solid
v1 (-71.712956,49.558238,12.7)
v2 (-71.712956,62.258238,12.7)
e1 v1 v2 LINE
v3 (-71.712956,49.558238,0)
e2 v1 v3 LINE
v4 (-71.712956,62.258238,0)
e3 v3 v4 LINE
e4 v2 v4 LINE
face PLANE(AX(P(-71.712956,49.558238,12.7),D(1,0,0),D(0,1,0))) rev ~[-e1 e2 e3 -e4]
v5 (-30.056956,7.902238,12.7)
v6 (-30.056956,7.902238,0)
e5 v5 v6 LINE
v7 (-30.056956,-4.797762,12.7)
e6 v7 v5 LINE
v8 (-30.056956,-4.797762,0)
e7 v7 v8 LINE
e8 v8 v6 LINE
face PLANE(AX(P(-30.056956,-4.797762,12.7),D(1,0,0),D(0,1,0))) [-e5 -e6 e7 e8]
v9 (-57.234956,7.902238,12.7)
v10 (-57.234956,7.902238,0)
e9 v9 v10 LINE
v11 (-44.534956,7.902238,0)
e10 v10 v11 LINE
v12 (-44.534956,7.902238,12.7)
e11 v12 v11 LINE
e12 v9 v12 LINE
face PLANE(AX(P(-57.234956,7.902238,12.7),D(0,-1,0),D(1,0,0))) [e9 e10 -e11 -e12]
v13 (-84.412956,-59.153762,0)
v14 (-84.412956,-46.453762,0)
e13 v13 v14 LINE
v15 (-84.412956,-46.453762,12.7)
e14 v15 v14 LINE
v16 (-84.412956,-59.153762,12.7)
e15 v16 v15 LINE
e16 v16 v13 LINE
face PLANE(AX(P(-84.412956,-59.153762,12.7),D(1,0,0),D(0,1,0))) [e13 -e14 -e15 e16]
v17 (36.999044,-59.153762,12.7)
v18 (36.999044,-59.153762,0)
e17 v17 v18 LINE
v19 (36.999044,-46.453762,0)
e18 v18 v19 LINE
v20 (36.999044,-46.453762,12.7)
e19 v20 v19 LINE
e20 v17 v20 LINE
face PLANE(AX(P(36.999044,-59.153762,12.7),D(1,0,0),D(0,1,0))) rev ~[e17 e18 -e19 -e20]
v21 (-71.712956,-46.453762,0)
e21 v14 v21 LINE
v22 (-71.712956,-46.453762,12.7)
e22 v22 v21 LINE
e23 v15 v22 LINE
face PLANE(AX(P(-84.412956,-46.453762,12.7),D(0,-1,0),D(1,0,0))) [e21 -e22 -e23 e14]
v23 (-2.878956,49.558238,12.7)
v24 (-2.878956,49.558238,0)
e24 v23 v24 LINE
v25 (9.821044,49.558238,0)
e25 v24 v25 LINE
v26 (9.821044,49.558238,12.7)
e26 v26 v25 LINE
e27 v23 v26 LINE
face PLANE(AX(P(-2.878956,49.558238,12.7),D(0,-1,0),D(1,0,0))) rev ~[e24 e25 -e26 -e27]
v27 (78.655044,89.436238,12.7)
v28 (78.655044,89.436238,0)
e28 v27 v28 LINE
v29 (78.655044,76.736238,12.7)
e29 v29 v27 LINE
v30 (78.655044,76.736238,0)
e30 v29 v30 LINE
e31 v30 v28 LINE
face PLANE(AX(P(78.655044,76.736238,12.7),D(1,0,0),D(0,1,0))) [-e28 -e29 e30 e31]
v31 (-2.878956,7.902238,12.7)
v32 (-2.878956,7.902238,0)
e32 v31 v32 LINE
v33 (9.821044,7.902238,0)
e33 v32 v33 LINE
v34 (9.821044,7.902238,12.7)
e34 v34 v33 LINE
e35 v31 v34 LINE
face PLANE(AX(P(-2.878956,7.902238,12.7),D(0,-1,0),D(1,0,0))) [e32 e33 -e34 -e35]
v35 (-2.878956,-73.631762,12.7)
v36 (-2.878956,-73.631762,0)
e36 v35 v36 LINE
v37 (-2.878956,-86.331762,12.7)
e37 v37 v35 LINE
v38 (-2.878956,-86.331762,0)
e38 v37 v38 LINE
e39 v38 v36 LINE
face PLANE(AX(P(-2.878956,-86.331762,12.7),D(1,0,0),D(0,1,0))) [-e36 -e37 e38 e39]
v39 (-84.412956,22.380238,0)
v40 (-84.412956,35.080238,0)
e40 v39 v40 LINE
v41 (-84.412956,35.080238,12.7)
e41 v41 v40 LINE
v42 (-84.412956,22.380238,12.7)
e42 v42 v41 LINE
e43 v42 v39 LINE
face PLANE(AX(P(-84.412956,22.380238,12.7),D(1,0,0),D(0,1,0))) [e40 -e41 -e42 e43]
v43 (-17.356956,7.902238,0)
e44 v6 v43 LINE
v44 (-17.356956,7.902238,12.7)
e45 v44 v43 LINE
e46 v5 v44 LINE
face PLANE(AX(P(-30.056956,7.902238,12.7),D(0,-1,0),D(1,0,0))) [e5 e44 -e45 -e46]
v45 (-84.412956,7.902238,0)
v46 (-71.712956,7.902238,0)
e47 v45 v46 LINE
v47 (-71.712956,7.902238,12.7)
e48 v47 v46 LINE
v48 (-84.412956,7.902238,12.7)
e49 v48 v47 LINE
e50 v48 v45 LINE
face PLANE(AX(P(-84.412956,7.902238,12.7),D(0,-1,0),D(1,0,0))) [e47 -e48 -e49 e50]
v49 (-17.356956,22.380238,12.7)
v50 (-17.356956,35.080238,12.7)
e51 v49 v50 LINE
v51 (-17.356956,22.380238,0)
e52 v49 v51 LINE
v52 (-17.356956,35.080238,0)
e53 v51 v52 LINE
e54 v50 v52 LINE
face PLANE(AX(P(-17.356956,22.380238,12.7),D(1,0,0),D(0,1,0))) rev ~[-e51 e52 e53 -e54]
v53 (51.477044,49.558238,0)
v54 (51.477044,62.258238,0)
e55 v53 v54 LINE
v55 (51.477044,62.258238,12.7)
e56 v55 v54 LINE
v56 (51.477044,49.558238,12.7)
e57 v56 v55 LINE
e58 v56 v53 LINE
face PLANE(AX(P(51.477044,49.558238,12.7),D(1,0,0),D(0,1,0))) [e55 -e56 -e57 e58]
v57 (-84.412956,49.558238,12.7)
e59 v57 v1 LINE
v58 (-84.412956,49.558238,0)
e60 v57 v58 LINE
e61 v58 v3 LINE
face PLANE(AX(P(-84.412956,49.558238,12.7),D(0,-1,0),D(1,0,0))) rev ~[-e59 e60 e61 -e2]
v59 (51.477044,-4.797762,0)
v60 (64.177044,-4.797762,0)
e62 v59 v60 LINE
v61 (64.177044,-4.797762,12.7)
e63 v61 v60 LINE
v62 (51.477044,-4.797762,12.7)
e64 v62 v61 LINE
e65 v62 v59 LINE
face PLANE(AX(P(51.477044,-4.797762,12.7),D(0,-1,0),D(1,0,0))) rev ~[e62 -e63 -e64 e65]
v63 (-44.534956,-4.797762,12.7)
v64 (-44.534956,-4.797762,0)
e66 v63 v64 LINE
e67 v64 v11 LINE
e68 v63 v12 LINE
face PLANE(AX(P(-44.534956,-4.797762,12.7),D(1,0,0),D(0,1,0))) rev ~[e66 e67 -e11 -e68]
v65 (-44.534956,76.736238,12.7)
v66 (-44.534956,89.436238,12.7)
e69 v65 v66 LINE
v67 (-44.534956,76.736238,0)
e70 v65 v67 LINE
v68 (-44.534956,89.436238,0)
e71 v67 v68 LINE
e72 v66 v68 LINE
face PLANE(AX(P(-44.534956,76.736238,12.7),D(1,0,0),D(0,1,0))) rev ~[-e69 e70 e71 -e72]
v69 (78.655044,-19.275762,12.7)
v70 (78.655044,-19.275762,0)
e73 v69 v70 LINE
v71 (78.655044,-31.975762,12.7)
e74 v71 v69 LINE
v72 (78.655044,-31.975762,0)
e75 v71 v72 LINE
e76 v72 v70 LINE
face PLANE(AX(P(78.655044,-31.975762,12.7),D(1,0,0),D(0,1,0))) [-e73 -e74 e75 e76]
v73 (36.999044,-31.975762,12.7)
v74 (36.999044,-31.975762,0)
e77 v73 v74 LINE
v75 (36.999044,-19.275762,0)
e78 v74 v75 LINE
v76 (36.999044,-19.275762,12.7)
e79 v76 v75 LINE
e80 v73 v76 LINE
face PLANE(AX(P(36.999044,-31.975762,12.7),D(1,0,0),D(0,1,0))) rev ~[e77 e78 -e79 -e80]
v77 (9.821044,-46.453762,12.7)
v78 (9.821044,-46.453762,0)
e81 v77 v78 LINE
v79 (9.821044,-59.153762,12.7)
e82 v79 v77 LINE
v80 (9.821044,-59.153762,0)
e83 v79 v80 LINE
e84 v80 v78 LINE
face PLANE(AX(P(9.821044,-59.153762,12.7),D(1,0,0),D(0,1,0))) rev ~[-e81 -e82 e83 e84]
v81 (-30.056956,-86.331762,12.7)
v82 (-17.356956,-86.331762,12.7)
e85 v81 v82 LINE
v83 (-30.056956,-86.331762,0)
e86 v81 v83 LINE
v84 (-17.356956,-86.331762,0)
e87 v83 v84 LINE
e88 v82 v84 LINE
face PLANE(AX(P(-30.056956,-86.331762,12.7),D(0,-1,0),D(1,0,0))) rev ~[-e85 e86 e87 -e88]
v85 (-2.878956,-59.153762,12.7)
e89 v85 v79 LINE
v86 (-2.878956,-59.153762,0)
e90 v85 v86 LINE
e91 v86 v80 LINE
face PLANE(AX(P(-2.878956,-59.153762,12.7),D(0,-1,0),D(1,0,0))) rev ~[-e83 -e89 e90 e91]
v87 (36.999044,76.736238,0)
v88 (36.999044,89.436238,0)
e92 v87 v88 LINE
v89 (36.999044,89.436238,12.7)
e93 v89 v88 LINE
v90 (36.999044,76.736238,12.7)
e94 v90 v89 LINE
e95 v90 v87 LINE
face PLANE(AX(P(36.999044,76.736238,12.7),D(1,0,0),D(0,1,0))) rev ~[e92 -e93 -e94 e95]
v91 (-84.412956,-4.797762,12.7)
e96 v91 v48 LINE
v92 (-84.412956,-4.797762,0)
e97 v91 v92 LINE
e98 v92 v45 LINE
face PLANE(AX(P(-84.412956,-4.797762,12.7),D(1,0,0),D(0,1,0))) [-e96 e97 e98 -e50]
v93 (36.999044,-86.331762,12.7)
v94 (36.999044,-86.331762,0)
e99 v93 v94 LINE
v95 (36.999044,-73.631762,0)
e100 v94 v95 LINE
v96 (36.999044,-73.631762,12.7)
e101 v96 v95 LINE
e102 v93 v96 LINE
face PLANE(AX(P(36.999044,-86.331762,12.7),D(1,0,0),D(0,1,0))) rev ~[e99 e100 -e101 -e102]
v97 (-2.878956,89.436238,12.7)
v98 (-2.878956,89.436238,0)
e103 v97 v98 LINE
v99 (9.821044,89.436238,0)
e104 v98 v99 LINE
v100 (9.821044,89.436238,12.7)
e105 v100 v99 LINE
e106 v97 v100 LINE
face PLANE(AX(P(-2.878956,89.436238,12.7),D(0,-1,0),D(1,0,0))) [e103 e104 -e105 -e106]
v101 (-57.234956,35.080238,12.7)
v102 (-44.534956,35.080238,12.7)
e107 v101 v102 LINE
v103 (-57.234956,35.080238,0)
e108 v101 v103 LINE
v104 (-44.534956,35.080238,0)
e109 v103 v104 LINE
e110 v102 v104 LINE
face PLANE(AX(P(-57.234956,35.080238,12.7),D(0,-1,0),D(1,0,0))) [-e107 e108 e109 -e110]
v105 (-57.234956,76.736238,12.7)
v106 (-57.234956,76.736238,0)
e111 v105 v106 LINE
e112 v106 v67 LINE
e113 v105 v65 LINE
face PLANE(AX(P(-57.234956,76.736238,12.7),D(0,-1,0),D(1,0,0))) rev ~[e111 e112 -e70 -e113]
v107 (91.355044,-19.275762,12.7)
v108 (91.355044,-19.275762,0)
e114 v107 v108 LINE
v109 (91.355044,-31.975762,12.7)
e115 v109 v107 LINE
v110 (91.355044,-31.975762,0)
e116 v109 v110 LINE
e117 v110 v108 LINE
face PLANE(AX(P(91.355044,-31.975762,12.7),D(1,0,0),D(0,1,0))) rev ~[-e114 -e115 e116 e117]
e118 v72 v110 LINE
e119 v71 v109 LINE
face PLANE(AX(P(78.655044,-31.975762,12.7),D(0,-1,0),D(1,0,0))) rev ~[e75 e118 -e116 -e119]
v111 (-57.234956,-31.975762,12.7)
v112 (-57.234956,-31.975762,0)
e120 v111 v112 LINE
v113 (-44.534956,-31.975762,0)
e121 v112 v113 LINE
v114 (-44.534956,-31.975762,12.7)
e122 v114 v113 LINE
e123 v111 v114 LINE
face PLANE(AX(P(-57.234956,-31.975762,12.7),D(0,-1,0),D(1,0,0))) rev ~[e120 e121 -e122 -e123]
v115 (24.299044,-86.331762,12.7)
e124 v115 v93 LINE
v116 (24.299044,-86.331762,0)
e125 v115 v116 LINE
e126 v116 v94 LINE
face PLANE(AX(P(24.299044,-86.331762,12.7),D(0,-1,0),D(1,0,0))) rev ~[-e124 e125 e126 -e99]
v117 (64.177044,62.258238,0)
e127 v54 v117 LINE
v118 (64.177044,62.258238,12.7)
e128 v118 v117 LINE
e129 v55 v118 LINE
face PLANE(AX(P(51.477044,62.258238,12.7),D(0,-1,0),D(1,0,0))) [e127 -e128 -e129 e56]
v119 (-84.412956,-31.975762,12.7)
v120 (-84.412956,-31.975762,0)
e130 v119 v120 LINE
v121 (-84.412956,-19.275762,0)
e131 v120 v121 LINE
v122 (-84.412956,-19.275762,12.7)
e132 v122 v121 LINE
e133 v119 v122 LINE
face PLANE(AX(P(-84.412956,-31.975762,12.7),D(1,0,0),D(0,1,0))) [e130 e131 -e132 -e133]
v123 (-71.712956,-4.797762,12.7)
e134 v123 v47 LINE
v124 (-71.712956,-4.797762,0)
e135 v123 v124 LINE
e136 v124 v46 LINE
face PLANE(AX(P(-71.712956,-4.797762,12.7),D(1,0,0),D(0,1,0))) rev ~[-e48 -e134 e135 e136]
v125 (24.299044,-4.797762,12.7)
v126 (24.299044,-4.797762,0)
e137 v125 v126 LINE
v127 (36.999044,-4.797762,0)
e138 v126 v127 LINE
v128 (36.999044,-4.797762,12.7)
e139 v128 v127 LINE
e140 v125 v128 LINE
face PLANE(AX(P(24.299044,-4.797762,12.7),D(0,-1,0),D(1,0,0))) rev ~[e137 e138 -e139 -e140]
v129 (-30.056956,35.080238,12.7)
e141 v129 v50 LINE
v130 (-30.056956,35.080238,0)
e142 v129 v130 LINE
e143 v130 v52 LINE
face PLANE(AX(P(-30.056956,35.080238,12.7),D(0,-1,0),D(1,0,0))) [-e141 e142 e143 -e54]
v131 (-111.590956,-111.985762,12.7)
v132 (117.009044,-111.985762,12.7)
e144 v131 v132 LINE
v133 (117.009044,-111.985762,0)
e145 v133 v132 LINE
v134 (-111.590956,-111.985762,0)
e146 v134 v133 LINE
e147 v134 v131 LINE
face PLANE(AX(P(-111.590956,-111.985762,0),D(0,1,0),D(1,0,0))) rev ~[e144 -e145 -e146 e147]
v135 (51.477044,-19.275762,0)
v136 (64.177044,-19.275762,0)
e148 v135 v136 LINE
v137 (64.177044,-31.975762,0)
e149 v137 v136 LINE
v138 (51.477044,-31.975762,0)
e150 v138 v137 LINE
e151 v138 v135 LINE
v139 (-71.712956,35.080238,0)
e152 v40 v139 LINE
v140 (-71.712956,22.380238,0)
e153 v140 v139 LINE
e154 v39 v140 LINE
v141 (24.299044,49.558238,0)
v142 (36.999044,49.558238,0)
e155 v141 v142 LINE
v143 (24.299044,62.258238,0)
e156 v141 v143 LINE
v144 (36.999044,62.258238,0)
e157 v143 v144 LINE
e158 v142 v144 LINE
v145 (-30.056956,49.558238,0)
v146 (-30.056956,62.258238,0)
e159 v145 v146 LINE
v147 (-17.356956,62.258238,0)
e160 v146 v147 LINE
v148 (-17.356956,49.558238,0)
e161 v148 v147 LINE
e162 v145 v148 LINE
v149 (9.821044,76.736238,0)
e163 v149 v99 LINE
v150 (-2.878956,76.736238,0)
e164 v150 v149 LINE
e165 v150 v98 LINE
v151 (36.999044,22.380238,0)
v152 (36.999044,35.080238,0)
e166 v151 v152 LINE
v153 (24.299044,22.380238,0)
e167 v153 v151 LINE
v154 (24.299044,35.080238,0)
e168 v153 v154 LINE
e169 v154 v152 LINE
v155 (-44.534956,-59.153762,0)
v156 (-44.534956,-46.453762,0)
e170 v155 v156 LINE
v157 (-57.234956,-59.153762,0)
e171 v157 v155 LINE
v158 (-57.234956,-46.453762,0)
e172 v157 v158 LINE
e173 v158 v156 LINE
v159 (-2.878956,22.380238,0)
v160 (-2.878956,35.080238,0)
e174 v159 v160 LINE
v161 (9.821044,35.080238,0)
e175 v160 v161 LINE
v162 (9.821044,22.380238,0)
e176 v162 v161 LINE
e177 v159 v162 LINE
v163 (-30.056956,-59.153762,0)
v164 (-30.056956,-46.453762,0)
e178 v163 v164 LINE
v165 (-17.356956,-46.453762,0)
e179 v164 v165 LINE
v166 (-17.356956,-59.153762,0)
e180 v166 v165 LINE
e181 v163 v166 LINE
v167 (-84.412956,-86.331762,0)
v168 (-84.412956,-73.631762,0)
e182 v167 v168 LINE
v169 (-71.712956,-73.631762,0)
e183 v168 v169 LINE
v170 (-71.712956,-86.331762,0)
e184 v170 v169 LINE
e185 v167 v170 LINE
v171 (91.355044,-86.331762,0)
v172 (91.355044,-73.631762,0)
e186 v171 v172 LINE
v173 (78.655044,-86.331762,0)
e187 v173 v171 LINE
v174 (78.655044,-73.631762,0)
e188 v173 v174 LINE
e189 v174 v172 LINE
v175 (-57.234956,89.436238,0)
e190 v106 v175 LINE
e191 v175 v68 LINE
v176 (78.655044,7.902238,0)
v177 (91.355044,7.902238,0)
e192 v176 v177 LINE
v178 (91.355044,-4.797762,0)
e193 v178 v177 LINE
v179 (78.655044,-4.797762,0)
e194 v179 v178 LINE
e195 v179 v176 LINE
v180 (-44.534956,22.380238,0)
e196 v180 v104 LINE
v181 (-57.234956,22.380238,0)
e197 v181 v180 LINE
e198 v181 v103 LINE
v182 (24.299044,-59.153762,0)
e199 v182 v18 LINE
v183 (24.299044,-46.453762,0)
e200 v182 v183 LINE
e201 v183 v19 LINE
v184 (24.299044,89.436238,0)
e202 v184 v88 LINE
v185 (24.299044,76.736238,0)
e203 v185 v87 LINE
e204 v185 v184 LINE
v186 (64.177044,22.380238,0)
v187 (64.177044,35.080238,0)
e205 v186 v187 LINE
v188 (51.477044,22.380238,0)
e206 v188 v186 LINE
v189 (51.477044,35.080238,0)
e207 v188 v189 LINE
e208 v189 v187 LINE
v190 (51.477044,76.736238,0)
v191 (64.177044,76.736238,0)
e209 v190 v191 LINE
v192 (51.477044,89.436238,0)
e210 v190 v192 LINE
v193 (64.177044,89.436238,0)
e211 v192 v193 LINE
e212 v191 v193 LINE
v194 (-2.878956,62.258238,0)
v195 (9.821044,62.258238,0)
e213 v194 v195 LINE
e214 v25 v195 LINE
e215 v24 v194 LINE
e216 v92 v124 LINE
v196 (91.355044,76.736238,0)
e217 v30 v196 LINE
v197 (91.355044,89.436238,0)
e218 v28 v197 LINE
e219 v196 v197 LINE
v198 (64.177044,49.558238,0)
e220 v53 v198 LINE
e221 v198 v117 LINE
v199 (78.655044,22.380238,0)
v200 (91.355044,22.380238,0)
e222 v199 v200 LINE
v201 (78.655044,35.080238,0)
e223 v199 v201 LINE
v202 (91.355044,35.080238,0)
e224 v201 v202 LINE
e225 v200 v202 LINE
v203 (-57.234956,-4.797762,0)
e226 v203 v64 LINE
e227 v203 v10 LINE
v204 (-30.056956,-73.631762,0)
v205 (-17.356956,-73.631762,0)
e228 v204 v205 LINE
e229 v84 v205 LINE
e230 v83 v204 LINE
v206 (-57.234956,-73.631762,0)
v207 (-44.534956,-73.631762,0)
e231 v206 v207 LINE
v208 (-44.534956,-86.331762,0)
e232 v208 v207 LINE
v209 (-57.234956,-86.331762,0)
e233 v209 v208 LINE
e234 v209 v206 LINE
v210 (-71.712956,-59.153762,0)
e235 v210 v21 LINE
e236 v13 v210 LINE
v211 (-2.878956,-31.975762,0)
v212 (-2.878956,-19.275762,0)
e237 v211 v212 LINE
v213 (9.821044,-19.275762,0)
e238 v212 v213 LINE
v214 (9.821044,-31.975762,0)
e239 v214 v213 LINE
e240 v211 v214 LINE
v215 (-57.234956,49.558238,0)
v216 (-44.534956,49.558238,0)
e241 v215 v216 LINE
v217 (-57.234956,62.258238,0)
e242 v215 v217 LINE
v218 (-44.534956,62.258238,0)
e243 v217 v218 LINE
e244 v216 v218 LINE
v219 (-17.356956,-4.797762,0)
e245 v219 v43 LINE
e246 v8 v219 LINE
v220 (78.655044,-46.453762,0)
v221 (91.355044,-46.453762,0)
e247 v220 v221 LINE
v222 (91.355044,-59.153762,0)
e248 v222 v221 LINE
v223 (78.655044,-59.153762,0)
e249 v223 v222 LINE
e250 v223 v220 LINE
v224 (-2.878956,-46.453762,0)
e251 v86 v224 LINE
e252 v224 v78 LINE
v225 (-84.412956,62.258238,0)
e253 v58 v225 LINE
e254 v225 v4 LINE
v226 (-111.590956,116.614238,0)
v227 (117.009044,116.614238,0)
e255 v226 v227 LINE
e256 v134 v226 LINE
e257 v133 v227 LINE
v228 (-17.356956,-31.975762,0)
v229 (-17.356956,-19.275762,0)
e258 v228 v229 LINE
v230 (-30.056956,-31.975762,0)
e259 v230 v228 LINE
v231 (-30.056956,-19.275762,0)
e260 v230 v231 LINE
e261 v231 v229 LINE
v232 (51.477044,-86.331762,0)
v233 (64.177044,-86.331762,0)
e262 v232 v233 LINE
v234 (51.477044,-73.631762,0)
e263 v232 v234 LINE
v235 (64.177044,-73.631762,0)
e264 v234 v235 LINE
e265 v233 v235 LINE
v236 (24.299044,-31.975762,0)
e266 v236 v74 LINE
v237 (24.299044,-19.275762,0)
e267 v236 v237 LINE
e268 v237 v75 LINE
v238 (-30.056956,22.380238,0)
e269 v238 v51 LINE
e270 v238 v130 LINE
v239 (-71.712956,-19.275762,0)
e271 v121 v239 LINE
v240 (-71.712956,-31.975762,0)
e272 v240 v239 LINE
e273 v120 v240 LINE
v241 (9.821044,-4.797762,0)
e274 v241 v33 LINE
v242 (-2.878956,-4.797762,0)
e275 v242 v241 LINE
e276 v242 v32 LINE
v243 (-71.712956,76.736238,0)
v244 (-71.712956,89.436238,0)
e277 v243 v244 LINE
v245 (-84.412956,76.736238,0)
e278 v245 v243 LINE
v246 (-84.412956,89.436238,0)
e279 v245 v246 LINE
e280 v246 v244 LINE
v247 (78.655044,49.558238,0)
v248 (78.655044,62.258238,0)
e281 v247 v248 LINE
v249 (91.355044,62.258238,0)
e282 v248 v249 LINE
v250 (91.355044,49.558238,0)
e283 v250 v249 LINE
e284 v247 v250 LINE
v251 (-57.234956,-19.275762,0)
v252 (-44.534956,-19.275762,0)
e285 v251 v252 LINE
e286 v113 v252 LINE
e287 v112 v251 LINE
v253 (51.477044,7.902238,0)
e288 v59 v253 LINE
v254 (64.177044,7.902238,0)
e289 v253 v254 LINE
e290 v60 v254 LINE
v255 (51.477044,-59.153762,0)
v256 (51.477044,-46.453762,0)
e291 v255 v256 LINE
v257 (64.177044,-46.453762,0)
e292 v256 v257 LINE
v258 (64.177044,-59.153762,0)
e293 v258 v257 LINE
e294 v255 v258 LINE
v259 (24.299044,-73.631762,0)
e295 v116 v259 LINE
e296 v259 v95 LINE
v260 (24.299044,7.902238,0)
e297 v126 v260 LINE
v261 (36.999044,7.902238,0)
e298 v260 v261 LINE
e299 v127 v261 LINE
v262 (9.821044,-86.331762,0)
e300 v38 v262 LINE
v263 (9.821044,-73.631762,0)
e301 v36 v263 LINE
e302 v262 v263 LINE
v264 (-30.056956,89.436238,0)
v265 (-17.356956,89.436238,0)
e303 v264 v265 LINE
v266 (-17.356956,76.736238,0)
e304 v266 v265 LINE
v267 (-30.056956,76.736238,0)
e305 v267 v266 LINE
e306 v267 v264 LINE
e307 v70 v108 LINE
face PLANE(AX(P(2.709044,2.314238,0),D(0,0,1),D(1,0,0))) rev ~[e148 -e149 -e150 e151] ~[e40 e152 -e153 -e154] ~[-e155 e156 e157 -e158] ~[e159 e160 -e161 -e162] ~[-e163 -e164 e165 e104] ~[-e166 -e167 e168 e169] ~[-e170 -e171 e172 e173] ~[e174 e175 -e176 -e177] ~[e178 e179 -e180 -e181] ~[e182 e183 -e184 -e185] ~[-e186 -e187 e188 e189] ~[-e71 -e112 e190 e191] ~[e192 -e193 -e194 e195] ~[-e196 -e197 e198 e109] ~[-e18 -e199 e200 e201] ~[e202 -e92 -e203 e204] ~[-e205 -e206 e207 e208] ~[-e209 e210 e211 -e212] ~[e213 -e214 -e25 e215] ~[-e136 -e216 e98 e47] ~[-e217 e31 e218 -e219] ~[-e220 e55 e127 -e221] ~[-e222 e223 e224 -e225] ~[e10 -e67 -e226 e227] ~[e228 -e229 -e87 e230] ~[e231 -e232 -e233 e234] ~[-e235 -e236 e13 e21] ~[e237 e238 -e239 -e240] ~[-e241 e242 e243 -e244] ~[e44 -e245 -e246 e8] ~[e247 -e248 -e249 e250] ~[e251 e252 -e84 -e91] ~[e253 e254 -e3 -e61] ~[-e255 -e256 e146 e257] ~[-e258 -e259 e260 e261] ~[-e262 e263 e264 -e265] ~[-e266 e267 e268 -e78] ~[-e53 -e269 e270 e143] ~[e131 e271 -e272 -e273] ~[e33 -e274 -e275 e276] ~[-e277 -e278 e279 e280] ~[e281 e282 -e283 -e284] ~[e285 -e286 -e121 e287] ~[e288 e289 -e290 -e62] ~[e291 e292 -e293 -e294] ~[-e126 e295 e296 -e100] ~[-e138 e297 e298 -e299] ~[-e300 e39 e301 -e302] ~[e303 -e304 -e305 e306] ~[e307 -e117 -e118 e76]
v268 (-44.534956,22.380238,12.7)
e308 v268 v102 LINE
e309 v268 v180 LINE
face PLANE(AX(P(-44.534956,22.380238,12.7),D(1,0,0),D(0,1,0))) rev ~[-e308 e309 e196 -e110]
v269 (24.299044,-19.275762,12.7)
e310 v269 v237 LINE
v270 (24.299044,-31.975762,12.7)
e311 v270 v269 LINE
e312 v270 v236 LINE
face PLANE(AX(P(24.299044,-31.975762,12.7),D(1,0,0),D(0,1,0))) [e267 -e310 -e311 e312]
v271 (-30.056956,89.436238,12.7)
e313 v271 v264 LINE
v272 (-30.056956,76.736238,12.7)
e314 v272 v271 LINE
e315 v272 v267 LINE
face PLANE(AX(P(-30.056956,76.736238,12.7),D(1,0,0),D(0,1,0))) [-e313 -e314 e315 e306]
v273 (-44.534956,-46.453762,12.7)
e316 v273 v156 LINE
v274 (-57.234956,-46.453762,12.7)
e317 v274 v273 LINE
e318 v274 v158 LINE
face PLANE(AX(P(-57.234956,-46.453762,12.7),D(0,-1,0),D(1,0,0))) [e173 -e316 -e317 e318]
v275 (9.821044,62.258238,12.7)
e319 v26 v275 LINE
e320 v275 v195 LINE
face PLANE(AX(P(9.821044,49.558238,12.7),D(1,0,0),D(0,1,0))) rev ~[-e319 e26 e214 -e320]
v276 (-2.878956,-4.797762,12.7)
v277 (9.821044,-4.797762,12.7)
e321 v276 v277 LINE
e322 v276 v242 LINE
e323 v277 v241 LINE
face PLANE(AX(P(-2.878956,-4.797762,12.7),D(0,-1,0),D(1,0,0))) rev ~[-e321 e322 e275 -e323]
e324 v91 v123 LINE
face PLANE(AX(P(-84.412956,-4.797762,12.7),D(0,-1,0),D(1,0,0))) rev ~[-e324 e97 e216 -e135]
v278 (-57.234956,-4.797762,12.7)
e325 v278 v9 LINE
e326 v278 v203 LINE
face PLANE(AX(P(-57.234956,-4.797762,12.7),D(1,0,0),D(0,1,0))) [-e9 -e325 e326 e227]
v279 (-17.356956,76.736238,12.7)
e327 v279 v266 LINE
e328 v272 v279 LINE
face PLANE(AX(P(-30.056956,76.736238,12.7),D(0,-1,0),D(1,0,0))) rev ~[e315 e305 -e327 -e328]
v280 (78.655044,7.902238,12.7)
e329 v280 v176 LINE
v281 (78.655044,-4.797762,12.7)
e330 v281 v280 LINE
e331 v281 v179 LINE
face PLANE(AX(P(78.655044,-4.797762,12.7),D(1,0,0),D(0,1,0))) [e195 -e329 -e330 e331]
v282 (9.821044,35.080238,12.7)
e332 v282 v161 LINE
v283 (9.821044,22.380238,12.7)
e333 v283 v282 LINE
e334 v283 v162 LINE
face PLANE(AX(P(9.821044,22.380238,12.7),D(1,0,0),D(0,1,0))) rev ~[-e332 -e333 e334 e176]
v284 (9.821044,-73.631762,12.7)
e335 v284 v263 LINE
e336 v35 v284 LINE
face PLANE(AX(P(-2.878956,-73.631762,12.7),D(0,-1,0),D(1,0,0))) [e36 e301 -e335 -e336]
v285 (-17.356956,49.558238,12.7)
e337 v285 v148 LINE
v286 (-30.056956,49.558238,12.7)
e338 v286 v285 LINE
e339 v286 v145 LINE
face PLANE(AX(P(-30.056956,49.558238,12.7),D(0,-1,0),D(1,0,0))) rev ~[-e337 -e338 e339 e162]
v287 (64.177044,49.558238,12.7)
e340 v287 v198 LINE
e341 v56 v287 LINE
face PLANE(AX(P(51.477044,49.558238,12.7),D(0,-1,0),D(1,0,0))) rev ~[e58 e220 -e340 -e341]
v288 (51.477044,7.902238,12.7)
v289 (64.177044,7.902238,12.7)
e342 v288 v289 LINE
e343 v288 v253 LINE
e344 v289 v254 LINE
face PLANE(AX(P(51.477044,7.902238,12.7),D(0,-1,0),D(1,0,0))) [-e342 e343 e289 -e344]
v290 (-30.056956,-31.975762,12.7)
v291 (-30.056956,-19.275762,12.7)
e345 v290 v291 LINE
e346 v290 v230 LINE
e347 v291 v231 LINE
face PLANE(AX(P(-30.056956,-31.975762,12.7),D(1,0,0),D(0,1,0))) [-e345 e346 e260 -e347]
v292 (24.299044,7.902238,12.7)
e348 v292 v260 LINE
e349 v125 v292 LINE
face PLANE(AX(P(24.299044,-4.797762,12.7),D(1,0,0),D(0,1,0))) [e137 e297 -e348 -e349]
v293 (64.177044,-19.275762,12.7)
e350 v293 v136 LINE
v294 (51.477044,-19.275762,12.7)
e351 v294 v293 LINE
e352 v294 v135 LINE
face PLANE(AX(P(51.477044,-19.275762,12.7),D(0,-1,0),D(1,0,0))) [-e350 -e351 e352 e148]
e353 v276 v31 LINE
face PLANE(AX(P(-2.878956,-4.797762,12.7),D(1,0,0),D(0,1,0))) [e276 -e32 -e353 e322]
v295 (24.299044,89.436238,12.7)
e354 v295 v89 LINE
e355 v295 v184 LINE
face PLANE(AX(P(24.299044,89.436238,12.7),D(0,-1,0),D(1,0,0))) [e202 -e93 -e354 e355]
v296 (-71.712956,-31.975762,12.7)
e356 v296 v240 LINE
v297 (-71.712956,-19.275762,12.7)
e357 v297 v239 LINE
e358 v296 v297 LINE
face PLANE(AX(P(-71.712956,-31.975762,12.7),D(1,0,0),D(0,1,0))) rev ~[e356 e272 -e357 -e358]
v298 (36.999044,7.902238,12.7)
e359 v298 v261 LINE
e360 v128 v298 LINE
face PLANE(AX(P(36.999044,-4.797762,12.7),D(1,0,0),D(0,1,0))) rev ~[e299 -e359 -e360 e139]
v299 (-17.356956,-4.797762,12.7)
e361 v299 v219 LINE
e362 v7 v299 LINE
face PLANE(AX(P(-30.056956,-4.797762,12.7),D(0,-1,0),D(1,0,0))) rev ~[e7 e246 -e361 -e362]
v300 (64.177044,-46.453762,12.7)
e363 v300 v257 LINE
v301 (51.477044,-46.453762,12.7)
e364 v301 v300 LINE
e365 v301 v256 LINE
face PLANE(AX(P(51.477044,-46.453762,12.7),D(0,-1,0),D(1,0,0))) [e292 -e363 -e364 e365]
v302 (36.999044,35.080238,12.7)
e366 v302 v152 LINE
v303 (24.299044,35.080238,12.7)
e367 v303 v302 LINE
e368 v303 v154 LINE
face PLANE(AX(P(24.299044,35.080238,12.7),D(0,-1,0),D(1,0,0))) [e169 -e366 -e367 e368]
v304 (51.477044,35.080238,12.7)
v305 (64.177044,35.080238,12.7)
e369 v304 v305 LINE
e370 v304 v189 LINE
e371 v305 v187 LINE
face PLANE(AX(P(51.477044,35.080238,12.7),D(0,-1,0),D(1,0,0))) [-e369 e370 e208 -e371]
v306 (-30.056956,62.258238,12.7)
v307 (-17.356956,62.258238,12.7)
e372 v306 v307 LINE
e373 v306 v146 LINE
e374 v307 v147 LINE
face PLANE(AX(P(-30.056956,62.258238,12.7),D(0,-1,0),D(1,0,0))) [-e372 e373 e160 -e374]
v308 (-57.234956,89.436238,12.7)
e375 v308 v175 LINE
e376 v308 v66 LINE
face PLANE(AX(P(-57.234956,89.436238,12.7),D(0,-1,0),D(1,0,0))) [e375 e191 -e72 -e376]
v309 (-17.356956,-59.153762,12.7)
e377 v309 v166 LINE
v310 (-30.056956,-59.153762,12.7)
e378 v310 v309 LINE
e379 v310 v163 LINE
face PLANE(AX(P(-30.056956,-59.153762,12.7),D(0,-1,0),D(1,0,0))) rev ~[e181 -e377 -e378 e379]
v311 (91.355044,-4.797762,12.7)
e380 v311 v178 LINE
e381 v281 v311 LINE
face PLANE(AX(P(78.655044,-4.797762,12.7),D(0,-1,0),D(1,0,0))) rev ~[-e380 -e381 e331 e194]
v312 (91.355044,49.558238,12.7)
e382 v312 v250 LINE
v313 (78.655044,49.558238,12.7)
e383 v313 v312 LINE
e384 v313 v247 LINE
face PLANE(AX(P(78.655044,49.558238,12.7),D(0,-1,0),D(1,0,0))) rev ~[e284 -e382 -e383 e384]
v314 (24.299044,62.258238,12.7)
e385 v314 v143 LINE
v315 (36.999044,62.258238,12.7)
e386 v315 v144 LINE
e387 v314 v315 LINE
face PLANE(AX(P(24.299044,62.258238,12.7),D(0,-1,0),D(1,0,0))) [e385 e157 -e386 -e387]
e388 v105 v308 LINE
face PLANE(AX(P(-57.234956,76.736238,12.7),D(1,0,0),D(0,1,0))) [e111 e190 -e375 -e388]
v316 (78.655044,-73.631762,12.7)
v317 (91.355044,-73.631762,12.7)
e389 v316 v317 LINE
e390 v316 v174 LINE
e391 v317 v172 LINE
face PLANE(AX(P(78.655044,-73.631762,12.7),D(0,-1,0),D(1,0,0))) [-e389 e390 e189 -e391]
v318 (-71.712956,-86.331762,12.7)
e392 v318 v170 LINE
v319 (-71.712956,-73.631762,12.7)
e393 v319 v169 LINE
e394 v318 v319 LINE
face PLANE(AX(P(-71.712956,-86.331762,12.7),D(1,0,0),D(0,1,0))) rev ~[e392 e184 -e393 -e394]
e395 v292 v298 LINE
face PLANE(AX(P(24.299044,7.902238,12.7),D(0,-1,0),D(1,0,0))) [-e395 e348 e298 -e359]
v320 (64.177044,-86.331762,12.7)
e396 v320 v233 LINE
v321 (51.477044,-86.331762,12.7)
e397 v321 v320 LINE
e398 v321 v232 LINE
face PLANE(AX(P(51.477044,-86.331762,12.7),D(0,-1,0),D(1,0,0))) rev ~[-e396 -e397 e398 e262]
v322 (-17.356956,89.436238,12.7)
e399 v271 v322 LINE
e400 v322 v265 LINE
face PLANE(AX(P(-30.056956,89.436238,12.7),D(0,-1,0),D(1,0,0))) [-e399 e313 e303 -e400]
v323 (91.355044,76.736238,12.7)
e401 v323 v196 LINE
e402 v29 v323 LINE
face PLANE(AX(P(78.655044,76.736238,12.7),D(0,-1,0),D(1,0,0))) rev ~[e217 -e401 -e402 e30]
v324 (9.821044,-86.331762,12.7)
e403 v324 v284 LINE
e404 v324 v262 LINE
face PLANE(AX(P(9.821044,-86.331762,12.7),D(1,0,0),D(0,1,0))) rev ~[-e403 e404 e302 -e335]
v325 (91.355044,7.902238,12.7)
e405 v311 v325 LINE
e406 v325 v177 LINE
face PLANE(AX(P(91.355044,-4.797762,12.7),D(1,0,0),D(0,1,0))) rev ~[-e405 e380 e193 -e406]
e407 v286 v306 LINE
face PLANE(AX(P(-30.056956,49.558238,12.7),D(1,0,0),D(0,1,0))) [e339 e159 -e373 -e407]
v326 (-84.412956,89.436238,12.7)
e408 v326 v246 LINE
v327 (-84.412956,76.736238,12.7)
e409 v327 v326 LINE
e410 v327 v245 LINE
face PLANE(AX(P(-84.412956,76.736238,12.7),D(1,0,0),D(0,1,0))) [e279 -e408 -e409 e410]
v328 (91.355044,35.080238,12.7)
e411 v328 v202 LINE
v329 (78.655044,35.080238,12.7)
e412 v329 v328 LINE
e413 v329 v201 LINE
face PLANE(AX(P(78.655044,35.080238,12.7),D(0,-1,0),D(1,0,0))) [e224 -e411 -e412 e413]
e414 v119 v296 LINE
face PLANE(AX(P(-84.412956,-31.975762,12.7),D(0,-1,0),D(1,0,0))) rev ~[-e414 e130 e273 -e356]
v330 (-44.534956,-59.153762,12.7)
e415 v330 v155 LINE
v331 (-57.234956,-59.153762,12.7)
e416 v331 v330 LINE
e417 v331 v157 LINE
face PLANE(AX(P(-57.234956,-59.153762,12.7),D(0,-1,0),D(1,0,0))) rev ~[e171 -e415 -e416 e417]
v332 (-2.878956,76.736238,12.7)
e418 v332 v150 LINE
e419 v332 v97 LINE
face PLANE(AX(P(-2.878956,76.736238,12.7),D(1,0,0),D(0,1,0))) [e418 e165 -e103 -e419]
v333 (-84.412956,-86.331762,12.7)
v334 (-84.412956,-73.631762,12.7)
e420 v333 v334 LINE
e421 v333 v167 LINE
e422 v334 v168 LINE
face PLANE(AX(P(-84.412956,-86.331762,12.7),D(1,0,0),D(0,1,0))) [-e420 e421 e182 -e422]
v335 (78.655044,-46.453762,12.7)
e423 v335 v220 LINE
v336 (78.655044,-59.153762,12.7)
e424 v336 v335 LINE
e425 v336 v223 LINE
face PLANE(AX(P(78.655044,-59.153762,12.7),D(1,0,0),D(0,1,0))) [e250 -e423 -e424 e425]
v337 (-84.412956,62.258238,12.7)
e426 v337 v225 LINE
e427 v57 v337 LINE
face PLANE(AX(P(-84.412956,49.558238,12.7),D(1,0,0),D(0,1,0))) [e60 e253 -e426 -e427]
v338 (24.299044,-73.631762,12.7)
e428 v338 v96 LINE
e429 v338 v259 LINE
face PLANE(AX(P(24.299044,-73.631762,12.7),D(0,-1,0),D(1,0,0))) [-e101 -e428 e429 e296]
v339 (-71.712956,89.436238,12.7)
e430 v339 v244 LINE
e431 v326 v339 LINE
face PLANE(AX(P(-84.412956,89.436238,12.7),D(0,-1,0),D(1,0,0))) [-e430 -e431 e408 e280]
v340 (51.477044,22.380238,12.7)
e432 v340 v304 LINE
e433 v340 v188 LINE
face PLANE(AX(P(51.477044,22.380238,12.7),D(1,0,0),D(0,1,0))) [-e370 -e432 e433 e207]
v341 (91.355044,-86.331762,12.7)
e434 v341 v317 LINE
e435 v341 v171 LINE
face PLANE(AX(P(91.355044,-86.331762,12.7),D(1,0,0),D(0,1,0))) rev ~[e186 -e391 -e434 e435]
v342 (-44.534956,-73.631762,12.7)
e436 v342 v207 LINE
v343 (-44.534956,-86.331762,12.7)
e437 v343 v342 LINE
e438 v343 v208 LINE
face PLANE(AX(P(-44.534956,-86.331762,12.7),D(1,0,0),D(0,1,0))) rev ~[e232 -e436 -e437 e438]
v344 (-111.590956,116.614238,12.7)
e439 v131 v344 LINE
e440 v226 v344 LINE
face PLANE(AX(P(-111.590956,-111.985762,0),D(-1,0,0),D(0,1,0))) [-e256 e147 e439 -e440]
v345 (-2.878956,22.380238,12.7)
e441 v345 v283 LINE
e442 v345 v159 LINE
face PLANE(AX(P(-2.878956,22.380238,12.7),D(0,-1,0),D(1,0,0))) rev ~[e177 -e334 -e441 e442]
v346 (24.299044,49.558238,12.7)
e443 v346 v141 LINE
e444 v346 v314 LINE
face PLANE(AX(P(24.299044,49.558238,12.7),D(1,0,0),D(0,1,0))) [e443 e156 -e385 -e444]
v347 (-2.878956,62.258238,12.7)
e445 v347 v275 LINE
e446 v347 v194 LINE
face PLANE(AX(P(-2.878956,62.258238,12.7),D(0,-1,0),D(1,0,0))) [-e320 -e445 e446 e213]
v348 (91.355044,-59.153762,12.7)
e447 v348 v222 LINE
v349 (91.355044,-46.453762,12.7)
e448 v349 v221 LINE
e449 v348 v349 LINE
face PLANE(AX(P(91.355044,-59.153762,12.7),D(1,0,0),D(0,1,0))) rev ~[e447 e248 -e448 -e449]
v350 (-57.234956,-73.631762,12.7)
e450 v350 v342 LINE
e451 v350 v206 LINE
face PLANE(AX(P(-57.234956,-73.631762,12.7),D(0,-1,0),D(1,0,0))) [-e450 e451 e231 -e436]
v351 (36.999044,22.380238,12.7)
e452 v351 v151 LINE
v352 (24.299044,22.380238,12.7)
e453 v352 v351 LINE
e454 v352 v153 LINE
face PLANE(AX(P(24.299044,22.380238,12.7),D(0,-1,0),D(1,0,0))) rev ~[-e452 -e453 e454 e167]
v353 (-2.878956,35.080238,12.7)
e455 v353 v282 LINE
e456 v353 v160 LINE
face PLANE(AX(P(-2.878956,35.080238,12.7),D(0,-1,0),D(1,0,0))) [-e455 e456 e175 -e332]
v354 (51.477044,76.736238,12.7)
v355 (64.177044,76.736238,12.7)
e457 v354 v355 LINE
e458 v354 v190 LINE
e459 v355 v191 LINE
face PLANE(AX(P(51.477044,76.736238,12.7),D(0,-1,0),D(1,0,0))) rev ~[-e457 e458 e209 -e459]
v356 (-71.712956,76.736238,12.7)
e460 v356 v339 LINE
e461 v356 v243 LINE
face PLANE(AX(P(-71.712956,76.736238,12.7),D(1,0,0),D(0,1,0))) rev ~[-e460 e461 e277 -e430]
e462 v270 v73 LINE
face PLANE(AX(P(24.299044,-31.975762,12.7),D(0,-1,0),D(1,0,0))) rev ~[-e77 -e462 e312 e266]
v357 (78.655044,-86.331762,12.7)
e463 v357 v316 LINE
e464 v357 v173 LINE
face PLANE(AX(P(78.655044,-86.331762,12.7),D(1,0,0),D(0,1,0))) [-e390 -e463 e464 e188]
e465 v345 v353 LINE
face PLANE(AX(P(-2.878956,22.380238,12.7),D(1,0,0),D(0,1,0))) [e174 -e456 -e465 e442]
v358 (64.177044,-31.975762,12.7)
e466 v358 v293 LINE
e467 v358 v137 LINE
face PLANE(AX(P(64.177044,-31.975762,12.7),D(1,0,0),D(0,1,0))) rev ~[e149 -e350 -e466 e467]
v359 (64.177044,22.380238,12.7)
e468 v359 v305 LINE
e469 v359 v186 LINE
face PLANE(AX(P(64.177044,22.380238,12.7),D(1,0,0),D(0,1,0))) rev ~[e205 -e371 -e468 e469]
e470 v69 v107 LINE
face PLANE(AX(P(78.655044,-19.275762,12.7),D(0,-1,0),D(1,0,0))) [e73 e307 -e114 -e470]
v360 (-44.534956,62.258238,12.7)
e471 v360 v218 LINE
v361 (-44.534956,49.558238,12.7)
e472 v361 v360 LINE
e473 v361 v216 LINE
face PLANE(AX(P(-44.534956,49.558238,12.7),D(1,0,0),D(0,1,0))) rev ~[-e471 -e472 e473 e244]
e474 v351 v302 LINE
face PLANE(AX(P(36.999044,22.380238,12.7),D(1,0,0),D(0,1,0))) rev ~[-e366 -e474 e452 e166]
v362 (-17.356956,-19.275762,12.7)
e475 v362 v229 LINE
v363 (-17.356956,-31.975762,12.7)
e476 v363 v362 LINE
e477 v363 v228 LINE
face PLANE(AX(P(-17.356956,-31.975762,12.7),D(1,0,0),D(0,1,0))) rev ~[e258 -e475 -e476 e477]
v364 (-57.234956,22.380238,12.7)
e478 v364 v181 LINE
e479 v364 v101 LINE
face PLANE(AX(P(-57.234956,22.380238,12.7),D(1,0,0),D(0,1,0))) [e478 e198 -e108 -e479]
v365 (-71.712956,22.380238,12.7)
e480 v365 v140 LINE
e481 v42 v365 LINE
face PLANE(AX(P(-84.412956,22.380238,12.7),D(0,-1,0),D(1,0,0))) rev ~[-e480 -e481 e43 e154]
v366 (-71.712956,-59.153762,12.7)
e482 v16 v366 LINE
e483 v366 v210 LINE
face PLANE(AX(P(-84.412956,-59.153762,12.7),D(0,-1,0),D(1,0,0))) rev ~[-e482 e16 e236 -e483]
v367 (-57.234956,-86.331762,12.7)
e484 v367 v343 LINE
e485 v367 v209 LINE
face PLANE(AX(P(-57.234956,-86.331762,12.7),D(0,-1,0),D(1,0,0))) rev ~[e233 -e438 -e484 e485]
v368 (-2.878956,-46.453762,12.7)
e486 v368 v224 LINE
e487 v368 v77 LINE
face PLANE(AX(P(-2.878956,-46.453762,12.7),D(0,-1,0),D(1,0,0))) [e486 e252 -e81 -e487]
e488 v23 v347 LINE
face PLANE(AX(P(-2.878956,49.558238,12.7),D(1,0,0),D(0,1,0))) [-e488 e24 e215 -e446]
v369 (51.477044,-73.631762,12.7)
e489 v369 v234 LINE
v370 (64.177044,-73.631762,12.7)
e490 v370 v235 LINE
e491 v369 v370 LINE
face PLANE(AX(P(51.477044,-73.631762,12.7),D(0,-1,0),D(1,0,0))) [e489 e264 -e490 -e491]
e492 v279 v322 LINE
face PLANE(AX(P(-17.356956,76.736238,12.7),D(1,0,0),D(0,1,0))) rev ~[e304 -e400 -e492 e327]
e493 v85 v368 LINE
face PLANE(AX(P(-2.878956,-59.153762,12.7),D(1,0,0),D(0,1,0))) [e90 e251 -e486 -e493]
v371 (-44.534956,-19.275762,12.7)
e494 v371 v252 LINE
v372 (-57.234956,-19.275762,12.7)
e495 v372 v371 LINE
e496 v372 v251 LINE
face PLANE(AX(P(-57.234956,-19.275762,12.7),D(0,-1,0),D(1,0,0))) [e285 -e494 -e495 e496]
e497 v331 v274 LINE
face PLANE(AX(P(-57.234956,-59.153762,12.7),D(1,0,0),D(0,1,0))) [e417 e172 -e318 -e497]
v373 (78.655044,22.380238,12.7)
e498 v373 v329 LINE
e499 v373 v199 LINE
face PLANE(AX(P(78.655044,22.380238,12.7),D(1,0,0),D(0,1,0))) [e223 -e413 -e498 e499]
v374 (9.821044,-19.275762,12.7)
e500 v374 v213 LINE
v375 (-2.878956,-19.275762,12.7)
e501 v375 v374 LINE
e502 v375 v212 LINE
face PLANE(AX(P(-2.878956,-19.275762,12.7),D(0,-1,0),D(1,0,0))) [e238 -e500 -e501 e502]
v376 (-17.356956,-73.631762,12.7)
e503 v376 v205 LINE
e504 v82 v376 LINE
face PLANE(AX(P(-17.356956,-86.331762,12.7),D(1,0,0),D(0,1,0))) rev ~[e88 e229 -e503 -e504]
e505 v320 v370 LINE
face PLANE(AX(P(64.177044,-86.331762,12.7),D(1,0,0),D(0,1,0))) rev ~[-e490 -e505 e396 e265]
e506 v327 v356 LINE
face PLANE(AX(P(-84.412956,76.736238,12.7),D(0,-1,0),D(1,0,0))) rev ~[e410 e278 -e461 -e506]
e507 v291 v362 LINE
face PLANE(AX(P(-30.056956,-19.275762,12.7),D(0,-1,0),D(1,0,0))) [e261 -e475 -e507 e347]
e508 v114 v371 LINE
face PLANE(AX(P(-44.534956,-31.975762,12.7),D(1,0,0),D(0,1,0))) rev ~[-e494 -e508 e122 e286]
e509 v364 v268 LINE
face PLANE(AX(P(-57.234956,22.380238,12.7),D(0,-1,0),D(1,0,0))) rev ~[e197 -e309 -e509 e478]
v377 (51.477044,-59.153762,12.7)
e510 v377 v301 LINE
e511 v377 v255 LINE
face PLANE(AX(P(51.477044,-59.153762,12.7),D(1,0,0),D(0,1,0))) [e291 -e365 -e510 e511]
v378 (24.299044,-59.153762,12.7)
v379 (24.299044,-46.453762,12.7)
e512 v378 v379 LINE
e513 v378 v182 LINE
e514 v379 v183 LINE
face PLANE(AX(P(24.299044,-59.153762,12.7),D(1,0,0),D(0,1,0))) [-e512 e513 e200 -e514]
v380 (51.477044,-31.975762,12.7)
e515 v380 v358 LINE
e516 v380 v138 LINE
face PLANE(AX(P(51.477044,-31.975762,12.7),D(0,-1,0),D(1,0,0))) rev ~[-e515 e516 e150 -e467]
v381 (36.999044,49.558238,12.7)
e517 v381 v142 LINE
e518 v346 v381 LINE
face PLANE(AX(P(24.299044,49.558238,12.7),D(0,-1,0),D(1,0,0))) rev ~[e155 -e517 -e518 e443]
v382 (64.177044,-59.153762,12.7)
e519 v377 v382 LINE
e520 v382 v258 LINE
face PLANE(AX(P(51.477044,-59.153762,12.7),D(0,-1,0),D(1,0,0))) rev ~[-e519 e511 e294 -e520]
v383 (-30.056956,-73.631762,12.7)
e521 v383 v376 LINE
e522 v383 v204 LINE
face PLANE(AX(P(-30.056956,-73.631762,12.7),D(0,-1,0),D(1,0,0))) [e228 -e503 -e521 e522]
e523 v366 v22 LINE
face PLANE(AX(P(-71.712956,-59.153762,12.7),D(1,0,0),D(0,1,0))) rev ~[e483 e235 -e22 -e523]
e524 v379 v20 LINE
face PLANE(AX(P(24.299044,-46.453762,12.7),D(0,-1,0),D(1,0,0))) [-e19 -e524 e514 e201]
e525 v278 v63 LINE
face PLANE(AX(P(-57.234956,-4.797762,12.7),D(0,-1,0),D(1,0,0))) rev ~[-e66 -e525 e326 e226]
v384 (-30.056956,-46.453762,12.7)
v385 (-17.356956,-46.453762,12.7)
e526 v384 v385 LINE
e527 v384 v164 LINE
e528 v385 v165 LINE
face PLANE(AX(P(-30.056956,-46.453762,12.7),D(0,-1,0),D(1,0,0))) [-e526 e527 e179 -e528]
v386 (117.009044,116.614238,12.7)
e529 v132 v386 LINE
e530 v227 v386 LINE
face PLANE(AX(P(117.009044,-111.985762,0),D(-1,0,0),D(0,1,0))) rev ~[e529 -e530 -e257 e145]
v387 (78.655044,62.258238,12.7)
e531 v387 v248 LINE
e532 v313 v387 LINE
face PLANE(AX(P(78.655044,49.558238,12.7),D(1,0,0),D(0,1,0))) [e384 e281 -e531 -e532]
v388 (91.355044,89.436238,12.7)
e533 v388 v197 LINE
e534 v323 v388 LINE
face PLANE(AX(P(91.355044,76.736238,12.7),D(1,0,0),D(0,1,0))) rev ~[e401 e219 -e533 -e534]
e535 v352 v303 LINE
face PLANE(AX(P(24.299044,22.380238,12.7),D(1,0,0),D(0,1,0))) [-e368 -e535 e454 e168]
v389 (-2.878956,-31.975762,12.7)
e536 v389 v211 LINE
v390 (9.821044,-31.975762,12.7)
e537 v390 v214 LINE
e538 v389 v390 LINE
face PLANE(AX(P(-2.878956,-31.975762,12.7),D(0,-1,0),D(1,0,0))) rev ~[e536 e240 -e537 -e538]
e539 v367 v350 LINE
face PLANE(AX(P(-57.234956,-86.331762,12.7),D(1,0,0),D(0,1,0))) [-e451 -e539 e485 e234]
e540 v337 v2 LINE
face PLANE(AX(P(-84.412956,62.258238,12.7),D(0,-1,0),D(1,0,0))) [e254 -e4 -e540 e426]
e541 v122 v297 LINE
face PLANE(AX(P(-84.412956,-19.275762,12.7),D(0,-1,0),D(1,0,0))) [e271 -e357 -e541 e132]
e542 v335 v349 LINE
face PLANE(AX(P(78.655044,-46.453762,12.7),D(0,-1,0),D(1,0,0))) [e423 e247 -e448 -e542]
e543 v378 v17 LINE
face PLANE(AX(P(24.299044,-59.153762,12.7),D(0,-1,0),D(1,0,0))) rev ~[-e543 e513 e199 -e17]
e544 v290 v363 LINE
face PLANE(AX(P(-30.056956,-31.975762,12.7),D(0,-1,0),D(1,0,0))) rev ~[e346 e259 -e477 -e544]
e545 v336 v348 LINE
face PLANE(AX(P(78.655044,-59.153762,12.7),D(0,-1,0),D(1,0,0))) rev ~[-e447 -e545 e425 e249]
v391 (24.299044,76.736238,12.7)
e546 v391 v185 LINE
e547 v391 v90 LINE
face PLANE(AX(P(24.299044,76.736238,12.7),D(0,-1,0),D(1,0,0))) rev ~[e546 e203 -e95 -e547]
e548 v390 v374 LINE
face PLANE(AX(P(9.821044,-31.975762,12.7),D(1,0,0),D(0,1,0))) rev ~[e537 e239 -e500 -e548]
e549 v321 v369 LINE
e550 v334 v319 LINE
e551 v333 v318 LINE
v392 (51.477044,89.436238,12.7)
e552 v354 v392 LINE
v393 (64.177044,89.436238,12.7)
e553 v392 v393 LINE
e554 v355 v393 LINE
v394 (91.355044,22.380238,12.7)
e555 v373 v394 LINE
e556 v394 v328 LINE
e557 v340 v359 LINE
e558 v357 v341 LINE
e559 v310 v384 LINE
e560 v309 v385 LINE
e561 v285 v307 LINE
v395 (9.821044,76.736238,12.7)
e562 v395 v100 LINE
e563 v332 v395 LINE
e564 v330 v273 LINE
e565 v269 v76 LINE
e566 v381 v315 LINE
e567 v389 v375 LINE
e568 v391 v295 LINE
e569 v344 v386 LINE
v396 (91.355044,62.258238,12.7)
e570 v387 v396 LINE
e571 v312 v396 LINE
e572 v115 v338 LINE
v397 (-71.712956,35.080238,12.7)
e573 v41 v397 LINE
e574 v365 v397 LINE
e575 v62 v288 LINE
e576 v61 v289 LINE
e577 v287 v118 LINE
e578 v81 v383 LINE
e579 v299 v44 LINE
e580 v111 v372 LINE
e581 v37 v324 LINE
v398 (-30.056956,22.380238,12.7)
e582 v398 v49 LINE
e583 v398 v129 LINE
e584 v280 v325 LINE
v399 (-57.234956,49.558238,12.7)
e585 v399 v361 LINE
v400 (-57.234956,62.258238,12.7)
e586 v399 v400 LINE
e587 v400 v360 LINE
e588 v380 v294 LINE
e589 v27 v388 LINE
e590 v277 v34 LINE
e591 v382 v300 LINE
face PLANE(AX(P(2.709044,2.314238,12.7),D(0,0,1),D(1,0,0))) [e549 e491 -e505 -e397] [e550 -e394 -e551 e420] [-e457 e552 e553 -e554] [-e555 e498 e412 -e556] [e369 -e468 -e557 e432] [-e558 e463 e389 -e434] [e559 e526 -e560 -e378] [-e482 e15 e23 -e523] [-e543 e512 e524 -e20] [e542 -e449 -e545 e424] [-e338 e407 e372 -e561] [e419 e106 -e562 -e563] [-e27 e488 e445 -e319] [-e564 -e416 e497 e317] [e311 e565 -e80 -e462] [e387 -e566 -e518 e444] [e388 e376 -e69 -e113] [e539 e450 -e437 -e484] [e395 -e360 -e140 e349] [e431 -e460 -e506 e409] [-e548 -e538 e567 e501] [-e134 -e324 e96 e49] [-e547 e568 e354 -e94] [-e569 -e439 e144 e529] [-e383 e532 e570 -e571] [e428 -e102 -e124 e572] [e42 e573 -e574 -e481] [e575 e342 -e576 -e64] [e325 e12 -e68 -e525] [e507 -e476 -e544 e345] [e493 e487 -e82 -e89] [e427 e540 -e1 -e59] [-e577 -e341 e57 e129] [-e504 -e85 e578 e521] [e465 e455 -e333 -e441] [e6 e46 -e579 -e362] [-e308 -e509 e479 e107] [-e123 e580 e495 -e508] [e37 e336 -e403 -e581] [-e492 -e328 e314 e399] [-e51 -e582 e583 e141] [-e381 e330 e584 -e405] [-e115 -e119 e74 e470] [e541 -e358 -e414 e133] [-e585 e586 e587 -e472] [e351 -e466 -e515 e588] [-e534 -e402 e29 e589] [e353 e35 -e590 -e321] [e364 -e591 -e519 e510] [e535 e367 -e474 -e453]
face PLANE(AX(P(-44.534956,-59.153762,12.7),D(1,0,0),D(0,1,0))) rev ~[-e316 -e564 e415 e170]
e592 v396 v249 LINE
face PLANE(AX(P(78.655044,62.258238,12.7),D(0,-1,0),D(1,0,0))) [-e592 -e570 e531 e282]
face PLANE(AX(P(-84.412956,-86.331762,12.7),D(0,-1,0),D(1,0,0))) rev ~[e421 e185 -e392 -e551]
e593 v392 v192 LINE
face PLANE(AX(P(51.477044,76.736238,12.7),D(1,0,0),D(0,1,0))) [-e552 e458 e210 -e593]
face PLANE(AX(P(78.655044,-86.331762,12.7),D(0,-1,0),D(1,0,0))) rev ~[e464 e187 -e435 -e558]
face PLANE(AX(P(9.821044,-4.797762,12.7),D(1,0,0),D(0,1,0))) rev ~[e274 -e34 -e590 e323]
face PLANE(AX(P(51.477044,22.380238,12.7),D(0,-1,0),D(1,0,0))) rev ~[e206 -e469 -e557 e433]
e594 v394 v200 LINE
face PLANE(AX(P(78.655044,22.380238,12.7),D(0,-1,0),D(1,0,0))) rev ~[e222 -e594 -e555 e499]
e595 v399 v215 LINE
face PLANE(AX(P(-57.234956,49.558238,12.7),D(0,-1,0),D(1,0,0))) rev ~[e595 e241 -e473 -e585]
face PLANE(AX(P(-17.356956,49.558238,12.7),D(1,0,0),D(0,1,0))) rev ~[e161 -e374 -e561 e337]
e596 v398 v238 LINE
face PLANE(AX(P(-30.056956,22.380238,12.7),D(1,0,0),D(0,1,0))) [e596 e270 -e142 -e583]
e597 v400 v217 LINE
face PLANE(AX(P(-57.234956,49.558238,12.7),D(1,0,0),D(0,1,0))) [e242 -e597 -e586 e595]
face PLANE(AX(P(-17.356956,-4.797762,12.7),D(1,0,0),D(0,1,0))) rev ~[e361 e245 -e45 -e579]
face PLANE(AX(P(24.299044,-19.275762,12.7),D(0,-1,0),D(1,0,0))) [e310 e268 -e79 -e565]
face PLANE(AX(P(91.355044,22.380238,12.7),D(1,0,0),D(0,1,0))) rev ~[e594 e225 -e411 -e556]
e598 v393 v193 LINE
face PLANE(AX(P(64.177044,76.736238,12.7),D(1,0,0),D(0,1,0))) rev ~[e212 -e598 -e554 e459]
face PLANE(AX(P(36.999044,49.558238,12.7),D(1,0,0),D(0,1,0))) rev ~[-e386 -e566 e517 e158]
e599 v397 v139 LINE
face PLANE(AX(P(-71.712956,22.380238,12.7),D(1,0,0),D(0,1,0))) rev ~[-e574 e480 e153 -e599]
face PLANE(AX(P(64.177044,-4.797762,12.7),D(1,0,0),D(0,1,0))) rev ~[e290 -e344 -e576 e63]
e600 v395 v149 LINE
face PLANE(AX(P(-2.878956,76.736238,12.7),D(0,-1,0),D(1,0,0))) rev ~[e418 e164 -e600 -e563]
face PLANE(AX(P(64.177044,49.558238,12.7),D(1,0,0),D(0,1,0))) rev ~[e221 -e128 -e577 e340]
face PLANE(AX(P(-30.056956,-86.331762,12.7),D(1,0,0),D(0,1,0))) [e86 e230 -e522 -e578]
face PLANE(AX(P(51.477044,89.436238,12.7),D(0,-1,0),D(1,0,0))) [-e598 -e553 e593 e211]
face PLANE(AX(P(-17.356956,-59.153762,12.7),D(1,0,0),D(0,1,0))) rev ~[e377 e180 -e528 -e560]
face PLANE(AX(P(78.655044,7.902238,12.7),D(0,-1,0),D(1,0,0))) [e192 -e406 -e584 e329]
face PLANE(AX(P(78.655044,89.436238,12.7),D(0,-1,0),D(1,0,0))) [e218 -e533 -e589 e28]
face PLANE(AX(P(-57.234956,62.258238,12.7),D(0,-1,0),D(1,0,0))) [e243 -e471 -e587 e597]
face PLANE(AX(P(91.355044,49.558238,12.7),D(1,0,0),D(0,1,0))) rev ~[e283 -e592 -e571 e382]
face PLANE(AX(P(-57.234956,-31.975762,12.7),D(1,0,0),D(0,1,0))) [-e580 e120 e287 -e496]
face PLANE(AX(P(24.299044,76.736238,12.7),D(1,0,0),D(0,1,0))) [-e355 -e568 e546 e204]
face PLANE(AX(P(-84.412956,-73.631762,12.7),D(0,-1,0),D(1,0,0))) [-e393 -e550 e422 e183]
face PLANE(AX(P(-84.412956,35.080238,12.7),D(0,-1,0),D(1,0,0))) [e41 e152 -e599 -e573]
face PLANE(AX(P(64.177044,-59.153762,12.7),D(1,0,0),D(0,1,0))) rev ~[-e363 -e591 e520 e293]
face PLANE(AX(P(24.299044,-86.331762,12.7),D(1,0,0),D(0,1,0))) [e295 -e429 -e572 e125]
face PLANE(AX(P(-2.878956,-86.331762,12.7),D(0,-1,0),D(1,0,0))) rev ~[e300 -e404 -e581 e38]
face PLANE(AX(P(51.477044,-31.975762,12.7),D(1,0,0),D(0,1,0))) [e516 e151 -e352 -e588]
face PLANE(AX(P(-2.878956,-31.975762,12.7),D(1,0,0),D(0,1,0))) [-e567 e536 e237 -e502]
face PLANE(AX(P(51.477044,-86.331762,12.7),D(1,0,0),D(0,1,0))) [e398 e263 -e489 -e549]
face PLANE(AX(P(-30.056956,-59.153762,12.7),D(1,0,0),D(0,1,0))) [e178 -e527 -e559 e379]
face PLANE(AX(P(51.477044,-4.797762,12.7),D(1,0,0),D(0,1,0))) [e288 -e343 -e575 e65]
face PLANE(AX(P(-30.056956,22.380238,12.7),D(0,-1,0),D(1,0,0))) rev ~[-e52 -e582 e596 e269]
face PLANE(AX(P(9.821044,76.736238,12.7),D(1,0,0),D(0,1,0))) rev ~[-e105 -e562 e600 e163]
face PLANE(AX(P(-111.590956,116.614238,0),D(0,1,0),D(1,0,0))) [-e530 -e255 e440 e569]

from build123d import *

# Parameters (mm, degrees)
F0_W     = 228.6
F0_H     = 228.6
F1_DEPTH = 12.7
F2_W     = 12.7
F2_H     = 12.7
F3_DEPTH = 25.4


with BuildPart() as f1:
    # F0 (on Top) → F1 (new body)
    with BuildSketch(Plane.XY):
        with Locations((2.709044, 2.314238)):
            Rectangle(F0_W, F0_H)
    extrude(amount=F1_DEPTH)

    # F2 (on face) → F3 (cut)
    with BuildSketch(Plane.XY.offset(12.7)):
        with Locations((-78.062956, 83.086238)):
            Rectangle(F2_W, F2_H)
        with Locations((-50.884956, 83.086238)):
            Rectangle(F2_W, F2_H)
        with Locations((-23.706956, 83.086238)):
            Rectangle(F2_W, F2_H)
        with Locations((3.471044, 83.086238)):
            Rectangle(F2_W, F2_H)
        with Locations((30.649044, 83.086238)):
            Rectangle(F2_W, F2_H)
        with Locations((57.827044, 83.086238)):
            Rectangle(F2_W, F2_H)
        with Locations((85.005044, 83.086238)):
            Rectangle(F2_W, F2_H)
        with Locations((85.005044, 55.908238)):
            Rectangle(F2_W, F2_H)
        with Locations((57.827044, 55.908238)):
            Rectangle(F2_W, F2_H)
        with Locations((30.649044, 55.908238)):
            Rectangle(F2_W, F2_H)
        with Locations((3.471044, 55.908238)):
            Rectangle(F2_W, F2_H)
        with Locations((-23.706956, 55.908238)):
            Rectangle(F2_W, F2_H)
        with Locations((-50.884956, 55.908238)):
            Rectangle(F2_W, F2_H)
        with Locations((-78.062956, 55.908238)):
            Rectangle(F2_W, F2_H)
        with Locations((-78.062956, 28.730238)):
            Rectangle(F2_W, F2_H)
        with Locations((-50.884956, 28.730238)):
            Rectangle(F2_W, F2_H)
        with Locations((-23.706956, 28.730238)):
            Rectangle(F2_W, F2_H)
        with Locations((3.471044, 28.730238)):
            Rectangle(F2_W, F2_H)
        with Locations((30.649044, 28.730238)):
            Rectangle(F2_W, F2_H)
        with Locations((57.827044, 28.730238)):
            Rectangle(F2_W, F2_H)
        with Locations((85.005044, 28.730238)):
            Rectangle(F2_W, F2_H)
        with Locations((57.827044, 1.552238)):
            Rectangle(F2_W, F2_H)
        with Locations((30.649044, 1.552238)):
            Rectangle(F2_W, F2_H)
        with Locations((85.005044, 1.552238)):
            Rectangle(F2_W, F2_H)
        with Locations((3.471044, 1.552238)):
            Rectangle(F2_W, F2_H)
        with Locations((-23.706956, 1.552238)):
            Rectangle(F2_W, F2_H)
        with Locations((-50.884956, 1.552238)):
            Rectangle(F2_W, F2_H)
        with Locations((-78.062956, 1.552238)):
            Rectangle(F2_W, F2_H)
        with Locations((-78.062956, -25.625762)):
            Rectangle(F2_W, F2_H)
        with Locations((-78.062956, -52.803762)):
            Rectangle(F2_W, F2_H)
        with Locations((-78.062956, -79.981762)):
            Rectangle(F2_W, F2_H)
        with Locations((-50.884956, -79.981762)):
            Rectangle(F2_W, F2_H)
        with Locations((-50.884956, -52.803762)):
            Rectangle(F2_W, F2_H)
        with Locations((-50.884956, -25.625762)):
            Rectangle(F2_W, F2_H)
        with Locations((-23.706956, -25.625762)):
            Rectangle(F2_W, F2_H)
        with Locations((-23.706956, -52.803762)):
            Rectangle(F2_W, F2_H)
        with Locations((-23.706956, -79.981762)):
            Rectangle(F2_W, F2_H)
        with Locations((3.471044, -79.981762)):
            Rectangle(F2_W, F2_H)
        with Locations((3.471044, -52.803762)):
            Rectangle(F2_W, F2_H)
        with Locations((3.471044, -25.625762)):
            Rectangle(F2_W, F2_H)
        with Locations((30.649044, -25.625762)):
            Rectangle(F2_W, F2_H)
        with Locations((30.649044, -52.803762)):
            Rectangle(F2_W, F2_H)
        with Locations((30.649044, -79.981762)):
            Rectangle(F2_W, F2_H)
        with Locations((57.827044, -79.981762)):
            Rectangle(F2_W, F2_H)
        with Locations((57.827044, -52.803762)):
            Rectangle(F2_W, F2_H)
        with Locations((57.827044, -25.625762)):
            Rectangle(F2_W, F2_H)
        with Locations((85.005044, -25.625762)):
            Rectangle(F2_W, F2_H)
        with Locations((85.005044, -52.803762)):
            Rectangle(F2_W, F2_H)
        with Locations((85.005044, -79.981762)):
            Rectangle(F2_W, F2_H)
    extrude(amount=-F3_DEPTH, mode=Mode.SUBTRACT)


solid = f1.part
